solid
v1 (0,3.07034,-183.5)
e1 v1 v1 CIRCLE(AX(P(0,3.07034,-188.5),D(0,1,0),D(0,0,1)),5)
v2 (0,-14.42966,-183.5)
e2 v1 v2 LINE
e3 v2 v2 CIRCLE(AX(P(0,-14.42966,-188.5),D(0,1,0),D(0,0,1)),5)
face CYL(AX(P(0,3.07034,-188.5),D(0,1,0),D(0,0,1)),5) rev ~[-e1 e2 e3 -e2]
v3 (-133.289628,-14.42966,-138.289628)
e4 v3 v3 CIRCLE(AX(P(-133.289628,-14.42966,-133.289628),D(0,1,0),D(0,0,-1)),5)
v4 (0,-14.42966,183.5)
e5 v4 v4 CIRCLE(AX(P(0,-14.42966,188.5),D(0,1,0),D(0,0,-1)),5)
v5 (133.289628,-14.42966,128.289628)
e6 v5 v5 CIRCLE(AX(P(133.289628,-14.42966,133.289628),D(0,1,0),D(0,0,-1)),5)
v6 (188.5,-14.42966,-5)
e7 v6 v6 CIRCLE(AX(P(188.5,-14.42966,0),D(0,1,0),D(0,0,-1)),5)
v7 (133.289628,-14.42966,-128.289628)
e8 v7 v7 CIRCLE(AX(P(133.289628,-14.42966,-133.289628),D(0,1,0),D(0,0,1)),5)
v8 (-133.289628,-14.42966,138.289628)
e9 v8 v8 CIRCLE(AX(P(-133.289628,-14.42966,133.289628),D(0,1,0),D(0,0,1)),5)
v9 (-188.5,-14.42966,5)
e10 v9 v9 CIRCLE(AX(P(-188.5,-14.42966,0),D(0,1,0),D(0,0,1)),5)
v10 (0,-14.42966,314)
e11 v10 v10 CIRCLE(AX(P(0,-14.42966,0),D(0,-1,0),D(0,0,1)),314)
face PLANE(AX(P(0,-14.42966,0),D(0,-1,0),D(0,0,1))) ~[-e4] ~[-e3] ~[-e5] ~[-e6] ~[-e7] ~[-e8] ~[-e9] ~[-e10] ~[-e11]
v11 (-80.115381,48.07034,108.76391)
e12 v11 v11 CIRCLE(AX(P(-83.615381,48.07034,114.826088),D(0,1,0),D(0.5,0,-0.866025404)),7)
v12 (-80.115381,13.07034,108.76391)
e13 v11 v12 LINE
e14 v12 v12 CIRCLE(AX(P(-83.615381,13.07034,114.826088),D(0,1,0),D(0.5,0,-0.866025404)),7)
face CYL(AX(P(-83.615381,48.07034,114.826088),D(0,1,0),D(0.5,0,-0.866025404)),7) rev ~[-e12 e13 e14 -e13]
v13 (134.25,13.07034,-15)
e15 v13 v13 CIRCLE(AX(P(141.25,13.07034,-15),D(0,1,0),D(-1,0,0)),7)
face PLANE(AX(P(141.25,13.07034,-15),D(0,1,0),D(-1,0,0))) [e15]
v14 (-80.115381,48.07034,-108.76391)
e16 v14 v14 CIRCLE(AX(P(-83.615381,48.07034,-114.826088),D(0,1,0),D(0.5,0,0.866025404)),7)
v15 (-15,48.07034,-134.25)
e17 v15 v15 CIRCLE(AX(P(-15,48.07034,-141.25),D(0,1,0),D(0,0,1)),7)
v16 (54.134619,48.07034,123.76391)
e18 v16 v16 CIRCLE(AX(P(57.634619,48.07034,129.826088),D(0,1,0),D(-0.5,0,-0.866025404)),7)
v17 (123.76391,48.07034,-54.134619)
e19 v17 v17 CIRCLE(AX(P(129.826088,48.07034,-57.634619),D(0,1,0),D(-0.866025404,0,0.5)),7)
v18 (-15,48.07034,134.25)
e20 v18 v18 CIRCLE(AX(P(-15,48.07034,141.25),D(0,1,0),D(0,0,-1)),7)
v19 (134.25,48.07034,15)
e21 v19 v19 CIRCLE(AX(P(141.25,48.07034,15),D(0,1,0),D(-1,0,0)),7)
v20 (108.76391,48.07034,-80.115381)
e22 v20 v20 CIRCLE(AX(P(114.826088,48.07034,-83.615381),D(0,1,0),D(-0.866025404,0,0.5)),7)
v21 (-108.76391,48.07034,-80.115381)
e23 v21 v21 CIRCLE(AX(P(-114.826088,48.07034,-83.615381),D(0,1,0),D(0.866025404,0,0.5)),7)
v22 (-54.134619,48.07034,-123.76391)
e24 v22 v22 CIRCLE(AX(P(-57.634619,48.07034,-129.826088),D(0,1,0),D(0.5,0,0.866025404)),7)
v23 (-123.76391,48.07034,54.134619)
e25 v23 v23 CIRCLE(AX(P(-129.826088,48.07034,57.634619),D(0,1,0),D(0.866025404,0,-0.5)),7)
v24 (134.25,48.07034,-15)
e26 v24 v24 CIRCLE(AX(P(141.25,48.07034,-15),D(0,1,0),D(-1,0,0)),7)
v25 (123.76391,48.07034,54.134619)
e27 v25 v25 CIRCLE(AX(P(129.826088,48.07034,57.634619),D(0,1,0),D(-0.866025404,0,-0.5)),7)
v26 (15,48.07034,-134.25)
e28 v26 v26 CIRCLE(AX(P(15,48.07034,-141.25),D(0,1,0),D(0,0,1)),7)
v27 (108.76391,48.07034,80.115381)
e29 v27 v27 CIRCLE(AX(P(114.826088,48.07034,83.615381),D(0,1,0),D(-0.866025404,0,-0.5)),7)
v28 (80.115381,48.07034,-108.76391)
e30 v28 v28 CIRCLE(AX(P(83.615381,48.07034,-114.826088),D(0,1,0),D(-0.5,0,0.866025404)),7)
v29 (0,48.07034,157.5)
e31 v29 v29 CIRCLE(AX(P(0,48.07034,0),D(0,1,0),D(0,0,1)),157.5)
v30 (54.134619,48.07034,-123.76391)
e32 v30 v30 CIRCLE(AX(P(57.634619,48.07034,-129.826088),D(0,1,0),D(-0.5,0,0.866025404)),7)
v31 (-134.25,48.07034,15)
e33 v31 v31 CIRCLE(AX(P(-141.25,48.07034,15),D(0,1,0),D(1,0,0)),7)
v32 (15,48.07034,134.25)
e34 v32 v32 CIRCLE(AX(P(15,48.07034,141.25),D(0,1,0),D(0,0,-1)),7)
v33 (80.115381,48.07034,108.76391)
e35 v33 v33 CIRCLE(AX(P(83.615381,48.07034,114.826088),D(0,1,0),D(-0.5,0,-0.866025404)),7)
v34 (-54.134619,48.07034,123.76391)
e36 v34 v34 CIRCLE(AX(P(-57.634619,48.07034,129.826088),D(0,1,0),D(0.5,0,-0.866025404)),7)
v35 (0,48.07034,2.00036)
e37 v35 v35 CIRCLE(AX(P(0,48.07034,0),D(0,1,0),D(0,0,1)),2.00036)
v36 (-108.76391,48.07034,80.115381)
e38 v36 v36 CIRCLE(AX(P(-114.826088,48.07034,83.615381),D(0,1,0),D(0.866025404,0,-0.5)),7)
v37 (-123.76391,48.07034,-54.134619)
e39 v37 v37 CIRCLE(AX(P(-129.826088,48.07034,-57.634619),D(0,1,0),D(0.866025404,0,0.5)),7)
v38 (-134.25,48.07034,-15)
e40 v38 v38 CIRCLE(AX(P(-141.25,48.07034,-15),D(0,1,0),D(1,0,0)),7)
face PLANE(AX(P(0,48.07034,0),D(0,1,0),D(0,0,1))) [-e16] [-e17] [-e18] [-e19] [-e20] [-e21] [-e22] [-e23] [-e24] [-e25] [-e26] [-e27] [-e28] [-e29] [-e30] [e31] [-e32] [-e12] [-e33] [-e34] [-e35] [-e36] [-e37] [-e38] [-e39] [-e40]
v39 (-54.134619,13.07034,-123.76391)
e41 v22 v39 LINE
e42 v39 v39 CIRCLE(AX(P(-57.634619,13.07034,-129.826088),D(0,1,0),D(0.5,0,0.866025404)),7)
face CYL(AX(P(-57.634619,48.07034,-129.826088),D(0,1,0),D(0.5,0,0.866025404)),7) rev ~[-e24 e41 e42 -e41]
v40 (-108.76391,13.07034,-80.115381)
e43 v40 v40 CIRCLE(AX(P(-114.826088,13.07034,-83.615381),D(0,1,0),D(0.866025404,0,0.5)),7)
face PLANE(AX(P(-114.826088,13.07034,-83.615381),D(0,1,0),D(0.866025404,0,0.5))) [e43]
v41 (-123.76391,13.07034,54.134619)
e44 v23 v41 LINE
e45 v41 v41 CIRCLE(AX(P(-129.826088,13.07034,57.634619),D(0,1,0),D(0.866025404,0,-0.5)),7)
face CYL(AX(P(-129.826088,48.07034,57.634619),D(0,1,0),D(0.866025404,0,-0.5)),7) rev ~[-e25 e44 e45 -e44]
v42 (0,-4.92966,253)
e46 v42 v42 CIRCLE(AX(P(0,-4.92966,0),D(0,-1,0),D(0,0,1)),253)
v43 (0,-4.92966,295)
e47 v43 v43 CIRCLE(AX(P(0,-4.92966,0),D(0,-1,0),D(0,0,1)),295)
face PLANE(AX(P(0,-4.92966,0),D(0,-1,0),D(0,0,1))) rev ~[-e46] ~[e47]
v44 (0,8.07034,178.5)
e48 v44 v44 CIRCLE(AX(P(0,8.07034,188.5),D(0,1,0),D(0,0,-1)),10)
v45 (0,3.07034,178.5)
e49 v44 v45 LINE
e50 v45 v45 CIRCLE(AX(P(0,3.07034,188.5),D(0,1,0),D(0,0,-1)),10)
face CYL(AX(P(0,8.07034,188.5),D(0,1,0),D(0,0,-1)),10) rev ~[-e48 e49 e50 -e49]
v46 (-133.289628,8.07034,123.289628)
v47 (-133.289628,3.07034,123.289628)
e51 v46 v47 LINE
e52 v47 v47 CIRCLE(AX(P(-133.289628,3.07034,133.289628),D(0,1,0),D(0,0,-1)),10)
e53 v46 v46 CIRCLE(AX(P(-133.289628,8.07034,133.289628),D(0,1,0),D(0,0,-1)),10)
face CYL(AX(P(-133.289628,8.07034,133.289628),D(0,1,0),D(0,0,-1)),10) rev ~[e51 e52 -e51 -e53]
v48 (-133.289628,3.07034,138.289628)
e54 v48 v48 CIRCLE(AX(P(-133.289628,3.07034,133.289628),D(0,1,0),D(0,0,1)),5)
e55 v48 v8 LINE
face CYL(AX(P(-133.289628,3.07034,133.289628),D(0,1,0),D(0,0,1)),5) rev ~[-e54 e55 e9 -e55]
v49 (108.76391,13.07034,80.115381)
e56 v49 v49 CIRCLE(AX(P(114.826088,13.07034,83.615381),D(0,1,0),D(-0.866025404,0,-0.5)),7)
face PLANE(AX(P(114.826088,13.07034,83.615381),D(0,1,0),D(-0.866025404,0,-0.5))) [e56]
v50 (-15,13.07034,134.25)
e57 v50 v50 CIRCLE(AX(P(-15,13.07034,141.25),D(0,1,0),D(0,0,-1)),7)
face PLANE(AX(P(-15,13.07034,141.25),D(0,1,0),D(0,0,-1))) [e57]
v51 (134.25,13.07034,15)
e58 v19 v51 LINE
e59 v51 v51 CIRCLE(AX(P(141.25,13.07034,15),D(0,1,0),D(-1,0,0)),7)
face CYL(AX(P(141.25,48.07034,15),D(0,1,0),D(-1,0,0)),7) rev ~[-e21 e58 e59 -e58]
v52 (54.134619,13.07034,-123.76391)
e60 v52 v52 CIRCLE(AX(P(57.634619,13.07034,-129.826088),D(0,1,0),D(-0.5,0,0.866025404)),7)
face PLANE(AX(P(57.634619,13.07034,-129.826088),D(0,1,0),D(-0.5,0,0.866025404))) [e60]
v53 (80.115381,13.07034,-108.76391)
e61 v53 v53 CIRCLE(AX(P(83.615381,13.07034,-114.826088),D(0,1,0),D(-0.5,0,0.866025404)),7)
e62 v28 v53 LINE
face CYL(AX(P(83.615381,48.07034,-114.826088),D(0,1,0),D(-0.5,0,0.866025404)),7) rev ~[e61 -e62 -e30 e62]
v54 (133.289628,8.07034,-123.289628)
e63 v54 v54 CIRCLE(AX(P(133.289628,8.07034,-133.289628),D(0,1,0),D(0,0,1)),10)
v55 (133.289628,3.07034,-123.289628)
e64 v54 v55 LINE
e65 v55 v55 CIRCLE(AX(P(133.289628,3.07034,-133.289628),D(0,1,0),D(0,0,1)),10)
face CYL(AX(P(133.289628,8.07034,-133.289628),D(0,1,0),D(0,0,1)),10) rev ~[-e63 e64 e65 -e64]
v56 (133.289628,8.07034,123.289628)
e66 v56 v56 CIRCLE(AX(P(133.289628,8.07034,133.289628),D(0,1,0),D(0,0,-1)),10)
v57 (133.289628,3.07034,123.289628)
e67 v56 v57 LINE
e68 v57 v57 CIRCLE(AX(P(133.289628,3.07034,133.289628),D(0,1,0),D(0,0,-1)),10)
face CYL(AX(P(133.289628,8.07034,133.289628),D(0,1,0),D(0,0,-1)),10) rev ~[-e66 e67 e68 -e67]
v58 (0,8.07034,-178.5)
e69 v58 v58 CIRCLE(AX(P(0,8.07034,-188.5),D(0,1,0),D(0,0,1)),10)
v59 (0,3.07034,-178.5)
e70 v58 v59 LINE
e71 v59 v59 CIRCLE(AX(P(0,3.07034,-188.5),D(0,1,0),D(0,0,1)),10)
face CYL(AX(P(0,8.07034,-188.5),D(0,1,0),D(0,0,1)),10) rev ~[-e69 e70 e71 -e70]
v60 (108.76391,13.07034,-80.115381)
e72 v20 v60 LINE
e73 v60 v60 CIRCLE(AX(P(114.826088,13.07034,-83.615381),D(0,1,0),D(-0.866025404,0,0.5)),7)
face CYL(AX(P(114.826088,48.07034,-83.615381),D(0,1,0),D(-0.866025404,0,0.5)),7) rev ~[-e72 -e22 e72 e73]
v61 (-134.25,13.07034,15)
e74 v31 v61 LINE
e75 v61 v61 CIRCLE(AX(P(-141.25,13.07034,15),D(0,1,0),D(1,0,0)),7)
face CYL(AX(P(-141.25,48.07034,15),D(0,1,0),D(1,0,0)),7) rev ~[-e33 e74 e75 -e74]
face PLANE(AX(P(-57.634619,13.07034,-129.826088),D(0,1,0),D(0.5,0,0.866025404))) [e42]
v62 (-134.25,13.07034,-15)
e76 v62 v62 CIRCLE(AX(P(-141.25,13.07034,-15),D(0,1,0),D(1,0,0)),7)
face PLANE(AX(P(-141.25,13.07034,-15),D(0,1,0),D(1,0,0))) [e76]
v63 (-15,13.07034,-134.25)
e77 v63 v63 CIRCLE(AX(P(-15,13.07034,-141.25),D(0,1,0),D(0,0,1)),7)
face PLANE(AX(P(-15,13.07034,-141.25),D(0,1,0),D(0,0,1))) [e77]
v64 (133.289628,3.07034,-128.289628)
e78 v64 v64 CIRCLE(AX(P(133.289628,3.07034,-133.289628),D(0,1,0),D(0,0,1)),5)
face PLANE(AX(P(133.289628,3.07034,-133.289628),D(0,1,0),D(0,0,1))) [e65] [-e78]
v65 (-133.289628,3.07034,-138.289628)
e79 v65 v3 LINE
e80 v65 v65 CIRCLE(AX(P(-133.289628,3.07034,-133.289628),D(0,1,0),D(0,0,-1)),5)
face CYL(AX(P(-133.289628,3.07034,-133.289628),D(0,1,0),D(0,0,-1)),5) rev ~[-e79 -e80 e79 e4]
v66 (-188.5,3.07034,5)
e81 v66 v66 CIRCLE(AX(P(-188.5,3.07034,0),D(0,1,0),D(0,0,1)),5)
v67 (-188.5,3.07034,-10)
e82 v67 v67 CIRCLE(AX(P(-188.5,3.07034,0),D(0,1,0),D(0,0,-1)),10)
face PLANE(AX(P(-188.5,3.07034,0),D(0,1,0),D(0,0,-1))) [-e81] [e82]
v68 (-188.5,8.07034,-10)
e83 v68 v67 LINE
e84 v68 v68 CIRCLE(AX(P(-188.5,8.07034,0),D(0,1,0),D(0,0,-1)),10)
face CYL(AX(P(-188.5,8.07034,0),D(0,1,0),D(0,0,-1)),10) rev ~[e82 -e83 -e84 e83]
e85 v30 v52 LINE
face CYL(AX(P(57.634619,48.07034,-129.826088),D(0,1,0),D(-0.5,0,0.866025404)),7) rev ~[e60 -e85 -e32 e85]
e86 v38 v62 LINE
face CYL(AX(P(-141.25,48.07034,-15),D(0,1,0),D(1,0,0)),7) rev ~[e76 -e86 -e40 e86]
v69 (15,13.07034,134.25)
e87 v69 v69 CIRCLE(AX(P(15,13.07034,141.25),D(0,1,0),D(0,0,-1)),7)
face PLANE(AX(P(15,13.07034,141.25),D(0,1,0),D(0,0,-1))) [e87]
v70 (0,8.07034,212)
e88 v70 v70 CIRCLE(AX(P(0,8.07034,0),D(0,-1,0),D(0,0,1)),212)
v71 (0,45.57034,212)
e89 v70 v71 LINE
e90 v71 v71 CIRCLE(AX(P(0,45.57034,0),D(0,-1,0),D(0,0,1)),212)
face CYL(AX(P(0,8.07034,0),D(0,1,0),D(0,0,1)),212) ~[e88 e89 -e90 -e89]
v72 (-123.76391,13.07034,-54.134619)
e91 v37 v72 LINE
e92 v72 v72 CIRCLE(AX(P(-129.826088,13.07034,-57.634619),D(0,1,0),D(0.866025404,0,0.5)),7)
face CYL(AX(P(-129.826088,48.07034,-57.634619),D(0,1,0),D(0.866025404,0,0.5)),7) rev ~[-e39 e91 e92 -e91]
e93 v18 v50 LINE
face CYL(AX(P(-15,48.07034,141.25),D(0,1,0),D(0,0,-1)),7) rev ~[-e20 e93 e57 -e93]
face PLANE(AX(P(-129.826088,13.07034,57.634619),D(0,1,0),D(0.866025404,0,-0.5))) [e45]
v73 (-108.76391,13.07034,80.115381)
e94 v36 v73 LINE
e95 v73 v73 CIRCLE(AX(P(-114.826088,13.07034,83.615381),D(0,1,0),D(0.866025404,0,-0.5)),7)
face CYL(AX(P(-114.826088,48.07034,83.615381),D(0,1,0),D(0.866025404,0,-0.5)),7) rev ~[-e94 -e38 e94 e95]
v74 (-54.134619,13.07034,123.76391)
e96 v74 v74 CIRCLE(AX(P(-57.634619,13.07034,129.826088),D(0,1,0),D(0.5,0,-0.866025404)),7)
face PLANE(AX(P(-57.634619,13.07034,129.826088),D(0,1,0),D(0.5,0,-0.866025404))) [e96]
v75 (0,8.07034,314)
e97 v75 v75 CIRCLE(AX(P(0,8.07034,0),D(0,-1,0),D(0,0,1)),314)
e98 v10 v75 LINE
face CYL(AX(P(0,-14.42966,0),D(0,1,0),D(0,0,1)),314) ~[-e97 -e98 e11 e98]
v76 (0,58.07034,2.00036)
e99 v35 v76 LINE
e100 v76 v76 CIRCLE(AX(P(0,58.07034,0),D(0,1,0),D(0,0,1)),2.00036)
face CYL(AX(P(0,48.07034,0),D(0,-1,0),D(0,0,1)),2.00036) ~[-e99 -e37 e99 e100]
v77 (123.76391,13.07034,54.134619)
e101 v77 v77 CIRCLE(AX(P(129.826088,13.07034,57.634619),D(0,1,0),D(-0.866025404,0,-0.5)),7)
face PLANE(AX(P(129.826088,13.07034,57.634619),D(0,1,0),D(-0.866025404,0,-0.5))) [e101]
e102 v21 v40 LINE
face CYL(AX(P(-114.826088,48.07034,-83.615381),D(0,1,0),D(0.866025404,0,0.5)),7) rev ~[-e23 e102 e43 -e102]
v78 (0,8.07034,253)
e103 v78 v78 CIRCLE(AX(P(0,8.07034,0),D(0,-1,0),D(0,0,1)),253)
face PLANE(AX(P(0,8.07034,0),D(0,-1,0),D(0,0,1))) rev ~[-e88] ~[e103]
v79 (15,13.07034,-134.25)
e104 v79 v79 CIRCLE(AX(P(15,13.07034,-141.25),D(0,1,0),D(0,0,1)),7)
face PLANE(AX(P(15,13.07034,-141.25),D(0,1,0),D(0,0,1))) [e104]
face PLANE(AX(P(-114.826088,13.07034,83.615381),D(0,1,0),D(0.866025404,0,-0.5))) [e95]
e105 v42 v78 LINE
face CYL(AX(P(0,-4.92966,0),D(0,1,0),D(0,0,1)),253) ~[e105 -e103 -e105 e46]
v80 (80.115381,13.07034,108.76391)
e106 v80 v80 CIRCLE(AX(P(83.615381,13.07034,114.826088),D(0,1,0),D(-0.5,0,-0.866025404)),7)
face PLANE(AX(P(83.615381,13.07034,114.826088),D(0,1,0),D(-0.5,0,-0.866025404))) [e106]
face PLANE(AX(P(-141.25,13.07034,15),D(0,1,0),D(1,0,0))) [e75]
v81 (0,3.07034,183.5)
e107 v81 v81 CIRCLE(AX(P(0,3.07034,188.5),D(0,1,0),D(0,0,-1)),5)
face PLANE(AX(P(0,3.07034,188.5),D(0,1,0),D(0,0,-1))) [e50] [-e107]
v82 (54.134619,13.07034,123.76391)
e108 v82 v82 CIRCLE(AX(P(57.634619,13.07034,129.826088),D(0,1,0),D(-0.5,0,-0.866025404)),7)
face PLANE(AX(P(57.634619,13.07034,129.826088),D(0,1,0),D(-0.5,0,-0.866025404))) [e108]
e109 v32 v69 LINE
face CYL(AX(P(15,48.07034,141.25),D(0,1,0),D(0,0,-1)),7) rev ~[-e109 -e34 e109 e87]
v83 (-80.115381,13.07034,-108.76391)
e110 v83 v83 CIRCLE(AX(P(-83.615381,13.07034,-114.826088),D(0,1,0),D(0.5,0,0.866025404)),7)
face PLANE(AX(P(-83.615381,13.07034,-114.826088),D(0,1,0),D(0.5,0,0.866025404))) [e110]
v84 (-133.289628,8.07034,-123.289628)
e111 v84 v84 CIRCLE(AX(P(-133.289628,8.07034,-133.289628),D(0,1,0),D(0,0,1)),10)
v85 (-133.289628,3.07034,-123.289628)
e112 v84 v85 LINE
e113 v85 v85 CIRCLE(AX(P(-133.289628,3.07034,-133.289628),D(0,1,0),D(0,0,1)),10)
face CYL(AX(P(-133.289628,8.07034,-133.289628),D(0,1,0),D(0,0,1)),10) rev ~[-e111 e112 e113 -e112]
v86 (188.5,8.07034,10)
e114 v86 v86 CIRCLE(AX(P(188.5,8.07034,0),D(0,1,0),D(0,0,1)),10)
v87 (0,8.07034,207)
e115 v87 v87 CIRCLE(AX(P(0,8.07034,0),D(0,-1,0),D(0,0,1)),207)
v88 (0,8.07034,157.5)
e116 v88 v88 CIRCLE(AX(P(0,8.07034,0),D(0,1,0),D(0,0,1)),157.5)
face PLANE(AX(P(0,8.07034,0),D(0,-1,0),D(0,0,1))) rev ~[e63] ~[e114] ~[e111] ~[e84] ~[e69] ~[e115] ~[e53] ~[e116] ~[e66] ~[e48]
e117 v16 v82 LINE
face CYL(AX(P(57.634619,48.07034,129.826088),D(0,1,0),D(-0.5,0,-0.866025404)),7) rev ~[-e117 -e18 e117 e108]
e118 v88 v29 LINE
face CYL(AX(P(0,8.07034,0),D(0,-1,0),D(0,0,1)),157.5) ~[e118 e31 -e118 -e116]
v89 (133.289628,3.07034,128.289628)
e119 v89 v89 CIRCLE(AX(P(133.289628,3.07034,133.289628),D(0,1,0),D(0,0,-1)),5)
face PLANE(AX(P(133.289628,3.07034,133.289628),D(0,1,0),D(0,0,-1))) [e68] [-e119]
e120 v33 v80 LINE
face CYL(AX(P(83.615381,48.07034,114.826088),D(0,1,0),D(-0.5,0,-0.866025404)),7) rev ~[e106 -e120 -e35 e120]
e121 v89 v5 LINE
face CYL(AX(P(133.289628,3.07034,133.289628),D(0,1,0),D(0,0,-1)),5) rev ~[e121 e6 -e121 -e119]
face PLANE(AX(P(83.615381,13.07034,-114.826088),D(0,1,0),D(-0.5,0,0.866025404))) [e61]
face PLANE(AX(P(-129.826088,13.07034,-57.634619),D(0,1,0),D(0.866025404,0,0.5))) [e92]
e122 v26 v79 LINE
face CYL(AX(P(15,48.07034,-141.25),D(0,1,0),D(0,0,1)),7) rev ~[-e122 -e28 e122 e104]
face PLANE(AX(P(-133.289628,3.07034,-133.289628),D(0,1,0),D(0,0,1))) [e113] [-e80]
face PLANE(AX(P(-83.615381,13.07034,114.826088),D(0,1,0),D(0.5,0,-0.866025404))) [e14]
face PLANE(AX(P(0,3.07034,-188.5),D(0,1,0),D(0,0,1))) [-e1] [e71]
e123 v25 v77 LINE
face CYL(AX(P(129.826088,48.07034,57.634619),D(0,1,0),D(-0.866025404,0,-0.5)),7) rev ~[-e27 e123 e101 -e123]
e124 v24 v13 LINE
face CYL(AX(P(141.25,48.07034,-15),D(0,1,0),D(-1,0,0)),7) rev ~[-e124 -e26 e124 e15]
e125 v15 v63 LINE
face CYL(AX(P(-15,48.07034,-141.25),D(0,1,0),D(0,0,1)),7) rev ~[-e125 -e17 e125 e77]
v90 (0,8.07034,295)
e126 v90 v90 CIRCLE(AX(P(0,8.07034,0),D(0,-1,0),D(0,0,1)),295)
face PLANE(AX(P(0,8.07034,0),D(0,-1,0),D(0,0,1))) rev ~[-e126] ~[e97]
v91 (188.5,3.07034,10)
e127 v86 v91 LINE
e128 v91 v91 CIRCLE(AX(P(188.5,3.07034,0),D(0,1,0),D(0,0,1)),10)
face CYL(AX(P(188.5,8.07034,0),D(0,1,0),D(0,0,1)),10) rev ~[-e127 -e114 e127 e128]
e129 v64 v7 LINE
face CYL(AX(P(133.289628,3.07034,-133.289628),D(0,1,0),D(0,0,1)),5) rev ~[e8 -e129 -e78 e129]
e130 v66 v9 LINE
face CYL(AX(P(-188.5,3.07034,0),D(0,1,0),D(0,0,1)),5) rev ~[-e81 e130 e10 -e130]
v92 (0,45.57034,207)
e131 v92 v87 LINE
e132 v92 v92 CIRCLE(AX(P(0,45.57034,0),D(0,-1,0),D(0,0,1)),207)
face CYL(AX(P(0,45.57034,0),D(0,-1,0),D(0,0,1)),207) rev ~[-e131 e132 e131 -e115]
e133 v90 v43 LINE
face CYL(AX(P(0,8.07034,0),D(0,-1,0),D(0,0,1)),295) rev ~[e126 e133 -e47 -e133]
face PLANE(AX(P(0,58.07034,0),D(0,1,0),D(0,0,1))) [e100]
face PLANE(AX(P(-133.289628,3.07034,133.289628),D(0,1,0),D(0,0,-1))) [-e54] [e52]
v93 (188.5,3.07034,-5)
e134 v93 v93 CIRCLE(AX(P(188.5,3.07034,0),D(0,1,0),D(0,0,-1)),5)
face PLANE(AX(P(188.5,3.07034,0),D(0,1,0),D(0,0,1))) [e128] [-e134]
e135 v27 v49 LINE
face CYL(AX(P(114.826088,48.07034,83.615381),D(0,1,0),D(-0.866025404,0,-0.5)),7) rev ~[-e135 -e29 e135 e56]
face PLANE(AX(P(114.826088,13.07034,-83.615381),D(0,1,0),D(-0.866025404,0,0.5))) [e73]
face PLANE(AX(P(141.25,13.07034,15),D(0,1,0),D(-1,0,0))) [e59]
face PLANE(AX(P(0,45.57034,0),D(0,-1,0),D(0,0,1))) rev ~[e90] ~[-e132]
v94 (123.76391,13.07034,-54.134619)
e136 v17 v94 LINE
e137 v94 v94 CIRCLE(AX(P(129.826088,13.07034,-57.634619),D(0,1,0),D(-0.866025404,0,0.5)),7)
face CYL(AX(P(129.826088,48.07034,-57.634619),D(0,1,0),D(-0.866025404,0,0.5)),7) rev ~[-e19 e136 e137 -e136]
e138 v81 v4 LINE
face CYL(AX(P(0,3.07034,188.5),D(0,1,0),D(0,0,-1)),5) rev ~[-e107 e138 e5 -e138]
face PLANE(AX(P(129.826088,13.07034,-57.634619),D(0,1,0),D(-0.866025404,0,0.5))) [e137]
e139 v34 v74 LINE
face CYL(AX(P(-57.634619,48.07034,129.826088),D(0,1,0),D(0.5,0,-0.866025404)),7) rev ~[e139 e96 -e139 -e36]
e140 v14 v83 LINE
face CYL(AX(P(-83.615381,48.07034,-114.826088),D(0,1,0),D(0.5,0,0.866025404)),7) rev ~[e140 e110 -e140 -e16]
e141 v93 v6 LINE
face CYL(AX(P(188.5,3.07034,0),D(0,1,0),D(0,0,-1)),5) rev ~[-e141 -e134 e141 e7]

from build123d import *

# Parameters (mm, degrees)
SKETCH6_R           = 10
CUT_EXTRUDE2_DEPTH  = 5
SKETCH7_R           = 5
CUT_EXTRUDE3_DEPTH  = 447.09219899
SKETCH8_R           = 157.5
BOSS_EXTRUDE1_DEPTH = 40
SKETCH9_R           = 7
CUT_EXTRUDE4_DEPTH  = 35
CIRPATTERN1_COUNT   = 12
SKETCH10_R          = 2.000359625
BOSS_EXTRUDE2_DEPTH = 10


with BuildPart() as part:
    # Sketch3 → Revolve1 (revolve)
    with BuildSketch(Plane(origin=(0, 0, 0), x_dir=(0, 0, -1), z_dir=(1, 0, 0))):
        Polygon((-212, 8.070339729), (-212, 45.570339729), (-207, 45.570339729), (-207, 8.070339729), (-0.848831398, 8.070339729), (-0.848831398, 11.780945064), (0, 11.780945064), (0, 8.070339729), (0, -14.429660271), (-314, -14.429660271), (-314, 8.070339729), (-295, 8.070339729), (-295, -4.929660271), (-253, -4.929660271), (-253, 8.070339729), align=None)
    revolve(axis=Axis((0, 120.738006406, 0), (0, -1, 0)))

    # Sketch6 → Cut-Extrude2 (cut)
    with BuildSketch(Plane(origin=(0, 8.070339729, 0), x_dir=(1, 0, 0), z_dir=(0, 1, 0))):
        with Locations(Location((-133.289628254, 133.289628254, 0), (0, 0, 270))):
            Circle(SKETCH6_R)
        with Locations(Location((133.289628254, 133.289628254, 0), (0, 0, 270))):
            Circle(SKETCH6_R)
        with Locations(Location((-133.289628254, -133.289628254, 0), (0, 0, 90))):
            Circle(SKETCH6_R)
        with Locations(Location((133.289628254, -133.289628254, 0), (0, 0, 90))):
            Circle(SKETCH6_R)
        with Locations(Location((0, 188.5, 0), (0, 0, 270))):
            Circle(SKETCH6_R)
        with Locations(Location((188.5, 0, 0), (0, 0, 270))):
            Circle(SKETCH6_R)
        with Locations(Location((0, -188.5, 0), (0, 0, 90))):
            Circle(SKETCH6_R)
        with Locations(Location((-188.5, 0, 0), (0, 0, 90))):
            Circle(SKETCH6_R)
    extrude(amount=-CUT_EXTRUDE2_DEPTH, mode=Mode.SUBTRACT)

    # Sketch7 → Cut-Extrude3 (cut, through all)
    with BuildSketch(Plane(origin=(0, 3.070339729, 0), x_dir=(1, 0, 0), z_dir=(0, 1, 0))):
        with Locations(Location((0, 188.5, 0), (0, 0, 270))):
            Circle(SKETCH7_R)
        with Locations(Location((133.289628254, 133.289628254, 0), (0, 0, 270))):
            Circle(SKETCH7_R)
        with Locations(Location((-133.289628254, 133.289628254, 0), (0, 0, 90))):
            Circle(SKETCH7_R)
        with Locations(Location((188.5, 0, 0), (0, 0, 90))):
            Circle(SKETCH7_R)
        with Locations(Location((133.289628254, -133.289628254, 0), (0, 0, 90))):
            Circle(SKETCH7_R)
        with Locations(Location((0, -188.5, 0), (0, 0, 90))):
            Circle(SKETCH7_R)
        with Locations(Location((-188.5, 0, 0), (0, 0, 270))):
            Circle(SKETCH7_R)
        with Locations(Location((-133.289628254, -133.289628254, 0), (0, 0, 270))):
            Circle(SKETCH7_R)
    extrude(amount=-CUT_EXTRUDE3_DEPTH, mode=Mode.SUBTRACT)

    # Sketch8 → Boss-Extrude1 (add)
    with BuildSketch(Plane(origin=(0, 8.070339729, 0), x_dir=(1, 0, 0), z_dir=(0, 1, 0))):
        with Locations(Location((0, 0, 0), (0, 0, 270))):
            Circle(SKETCH8_R)
    extrude(amount=BOSS_EXTRUDE1_DEPTH)

    # Sketch9 → Cut-Extrude4 (cut)
    with BuildSketch(Plane(origin=(0, 48.070339729, 0), x_dir=(1, 0, 0), z_dir=(0, 1, 0))):
        with Locations(Location((-15, 141.25, 0), (0, 0, 270))):
            Circle(SKETCH9_R)
        with Locations(Location((15, 141.25, 0), (0, 0, 270))):
            Circle(SKETCH9_R)
    cut_extrude4 = extrude(amount=-CUT_EXTRUDE4_DEPTH, mode=Mode.SUBTRACT)

    # CirPattern1: Cut-Extrude4 ×12 about axis
    cirpattern1_axis = Axis((0, 0, 0), (0, 1, 0))
    for i in range(1, CIRPATTERN1_COUNT):
        add(cut_extrude4.rotate(cirpattern1_axis, i * 360 / CIRPATTERN1_COUNT), mode=Mode.SUBTRACT)

    # Sketch10 → Boss-Extrude2 (add)
    with BuildSketch(Plane(origin=(0, 48.070339729, 0), x_dir=(1, 0, 0), z_dir=(0, 1, 0))):
        with Locations(Location((0, 0, 0), (0, 0, 270))):
            Circle(SKETCH10_R)
    extrude(amount=BOSS_EXTRUDE2_DEPTH)


solid = part.part
